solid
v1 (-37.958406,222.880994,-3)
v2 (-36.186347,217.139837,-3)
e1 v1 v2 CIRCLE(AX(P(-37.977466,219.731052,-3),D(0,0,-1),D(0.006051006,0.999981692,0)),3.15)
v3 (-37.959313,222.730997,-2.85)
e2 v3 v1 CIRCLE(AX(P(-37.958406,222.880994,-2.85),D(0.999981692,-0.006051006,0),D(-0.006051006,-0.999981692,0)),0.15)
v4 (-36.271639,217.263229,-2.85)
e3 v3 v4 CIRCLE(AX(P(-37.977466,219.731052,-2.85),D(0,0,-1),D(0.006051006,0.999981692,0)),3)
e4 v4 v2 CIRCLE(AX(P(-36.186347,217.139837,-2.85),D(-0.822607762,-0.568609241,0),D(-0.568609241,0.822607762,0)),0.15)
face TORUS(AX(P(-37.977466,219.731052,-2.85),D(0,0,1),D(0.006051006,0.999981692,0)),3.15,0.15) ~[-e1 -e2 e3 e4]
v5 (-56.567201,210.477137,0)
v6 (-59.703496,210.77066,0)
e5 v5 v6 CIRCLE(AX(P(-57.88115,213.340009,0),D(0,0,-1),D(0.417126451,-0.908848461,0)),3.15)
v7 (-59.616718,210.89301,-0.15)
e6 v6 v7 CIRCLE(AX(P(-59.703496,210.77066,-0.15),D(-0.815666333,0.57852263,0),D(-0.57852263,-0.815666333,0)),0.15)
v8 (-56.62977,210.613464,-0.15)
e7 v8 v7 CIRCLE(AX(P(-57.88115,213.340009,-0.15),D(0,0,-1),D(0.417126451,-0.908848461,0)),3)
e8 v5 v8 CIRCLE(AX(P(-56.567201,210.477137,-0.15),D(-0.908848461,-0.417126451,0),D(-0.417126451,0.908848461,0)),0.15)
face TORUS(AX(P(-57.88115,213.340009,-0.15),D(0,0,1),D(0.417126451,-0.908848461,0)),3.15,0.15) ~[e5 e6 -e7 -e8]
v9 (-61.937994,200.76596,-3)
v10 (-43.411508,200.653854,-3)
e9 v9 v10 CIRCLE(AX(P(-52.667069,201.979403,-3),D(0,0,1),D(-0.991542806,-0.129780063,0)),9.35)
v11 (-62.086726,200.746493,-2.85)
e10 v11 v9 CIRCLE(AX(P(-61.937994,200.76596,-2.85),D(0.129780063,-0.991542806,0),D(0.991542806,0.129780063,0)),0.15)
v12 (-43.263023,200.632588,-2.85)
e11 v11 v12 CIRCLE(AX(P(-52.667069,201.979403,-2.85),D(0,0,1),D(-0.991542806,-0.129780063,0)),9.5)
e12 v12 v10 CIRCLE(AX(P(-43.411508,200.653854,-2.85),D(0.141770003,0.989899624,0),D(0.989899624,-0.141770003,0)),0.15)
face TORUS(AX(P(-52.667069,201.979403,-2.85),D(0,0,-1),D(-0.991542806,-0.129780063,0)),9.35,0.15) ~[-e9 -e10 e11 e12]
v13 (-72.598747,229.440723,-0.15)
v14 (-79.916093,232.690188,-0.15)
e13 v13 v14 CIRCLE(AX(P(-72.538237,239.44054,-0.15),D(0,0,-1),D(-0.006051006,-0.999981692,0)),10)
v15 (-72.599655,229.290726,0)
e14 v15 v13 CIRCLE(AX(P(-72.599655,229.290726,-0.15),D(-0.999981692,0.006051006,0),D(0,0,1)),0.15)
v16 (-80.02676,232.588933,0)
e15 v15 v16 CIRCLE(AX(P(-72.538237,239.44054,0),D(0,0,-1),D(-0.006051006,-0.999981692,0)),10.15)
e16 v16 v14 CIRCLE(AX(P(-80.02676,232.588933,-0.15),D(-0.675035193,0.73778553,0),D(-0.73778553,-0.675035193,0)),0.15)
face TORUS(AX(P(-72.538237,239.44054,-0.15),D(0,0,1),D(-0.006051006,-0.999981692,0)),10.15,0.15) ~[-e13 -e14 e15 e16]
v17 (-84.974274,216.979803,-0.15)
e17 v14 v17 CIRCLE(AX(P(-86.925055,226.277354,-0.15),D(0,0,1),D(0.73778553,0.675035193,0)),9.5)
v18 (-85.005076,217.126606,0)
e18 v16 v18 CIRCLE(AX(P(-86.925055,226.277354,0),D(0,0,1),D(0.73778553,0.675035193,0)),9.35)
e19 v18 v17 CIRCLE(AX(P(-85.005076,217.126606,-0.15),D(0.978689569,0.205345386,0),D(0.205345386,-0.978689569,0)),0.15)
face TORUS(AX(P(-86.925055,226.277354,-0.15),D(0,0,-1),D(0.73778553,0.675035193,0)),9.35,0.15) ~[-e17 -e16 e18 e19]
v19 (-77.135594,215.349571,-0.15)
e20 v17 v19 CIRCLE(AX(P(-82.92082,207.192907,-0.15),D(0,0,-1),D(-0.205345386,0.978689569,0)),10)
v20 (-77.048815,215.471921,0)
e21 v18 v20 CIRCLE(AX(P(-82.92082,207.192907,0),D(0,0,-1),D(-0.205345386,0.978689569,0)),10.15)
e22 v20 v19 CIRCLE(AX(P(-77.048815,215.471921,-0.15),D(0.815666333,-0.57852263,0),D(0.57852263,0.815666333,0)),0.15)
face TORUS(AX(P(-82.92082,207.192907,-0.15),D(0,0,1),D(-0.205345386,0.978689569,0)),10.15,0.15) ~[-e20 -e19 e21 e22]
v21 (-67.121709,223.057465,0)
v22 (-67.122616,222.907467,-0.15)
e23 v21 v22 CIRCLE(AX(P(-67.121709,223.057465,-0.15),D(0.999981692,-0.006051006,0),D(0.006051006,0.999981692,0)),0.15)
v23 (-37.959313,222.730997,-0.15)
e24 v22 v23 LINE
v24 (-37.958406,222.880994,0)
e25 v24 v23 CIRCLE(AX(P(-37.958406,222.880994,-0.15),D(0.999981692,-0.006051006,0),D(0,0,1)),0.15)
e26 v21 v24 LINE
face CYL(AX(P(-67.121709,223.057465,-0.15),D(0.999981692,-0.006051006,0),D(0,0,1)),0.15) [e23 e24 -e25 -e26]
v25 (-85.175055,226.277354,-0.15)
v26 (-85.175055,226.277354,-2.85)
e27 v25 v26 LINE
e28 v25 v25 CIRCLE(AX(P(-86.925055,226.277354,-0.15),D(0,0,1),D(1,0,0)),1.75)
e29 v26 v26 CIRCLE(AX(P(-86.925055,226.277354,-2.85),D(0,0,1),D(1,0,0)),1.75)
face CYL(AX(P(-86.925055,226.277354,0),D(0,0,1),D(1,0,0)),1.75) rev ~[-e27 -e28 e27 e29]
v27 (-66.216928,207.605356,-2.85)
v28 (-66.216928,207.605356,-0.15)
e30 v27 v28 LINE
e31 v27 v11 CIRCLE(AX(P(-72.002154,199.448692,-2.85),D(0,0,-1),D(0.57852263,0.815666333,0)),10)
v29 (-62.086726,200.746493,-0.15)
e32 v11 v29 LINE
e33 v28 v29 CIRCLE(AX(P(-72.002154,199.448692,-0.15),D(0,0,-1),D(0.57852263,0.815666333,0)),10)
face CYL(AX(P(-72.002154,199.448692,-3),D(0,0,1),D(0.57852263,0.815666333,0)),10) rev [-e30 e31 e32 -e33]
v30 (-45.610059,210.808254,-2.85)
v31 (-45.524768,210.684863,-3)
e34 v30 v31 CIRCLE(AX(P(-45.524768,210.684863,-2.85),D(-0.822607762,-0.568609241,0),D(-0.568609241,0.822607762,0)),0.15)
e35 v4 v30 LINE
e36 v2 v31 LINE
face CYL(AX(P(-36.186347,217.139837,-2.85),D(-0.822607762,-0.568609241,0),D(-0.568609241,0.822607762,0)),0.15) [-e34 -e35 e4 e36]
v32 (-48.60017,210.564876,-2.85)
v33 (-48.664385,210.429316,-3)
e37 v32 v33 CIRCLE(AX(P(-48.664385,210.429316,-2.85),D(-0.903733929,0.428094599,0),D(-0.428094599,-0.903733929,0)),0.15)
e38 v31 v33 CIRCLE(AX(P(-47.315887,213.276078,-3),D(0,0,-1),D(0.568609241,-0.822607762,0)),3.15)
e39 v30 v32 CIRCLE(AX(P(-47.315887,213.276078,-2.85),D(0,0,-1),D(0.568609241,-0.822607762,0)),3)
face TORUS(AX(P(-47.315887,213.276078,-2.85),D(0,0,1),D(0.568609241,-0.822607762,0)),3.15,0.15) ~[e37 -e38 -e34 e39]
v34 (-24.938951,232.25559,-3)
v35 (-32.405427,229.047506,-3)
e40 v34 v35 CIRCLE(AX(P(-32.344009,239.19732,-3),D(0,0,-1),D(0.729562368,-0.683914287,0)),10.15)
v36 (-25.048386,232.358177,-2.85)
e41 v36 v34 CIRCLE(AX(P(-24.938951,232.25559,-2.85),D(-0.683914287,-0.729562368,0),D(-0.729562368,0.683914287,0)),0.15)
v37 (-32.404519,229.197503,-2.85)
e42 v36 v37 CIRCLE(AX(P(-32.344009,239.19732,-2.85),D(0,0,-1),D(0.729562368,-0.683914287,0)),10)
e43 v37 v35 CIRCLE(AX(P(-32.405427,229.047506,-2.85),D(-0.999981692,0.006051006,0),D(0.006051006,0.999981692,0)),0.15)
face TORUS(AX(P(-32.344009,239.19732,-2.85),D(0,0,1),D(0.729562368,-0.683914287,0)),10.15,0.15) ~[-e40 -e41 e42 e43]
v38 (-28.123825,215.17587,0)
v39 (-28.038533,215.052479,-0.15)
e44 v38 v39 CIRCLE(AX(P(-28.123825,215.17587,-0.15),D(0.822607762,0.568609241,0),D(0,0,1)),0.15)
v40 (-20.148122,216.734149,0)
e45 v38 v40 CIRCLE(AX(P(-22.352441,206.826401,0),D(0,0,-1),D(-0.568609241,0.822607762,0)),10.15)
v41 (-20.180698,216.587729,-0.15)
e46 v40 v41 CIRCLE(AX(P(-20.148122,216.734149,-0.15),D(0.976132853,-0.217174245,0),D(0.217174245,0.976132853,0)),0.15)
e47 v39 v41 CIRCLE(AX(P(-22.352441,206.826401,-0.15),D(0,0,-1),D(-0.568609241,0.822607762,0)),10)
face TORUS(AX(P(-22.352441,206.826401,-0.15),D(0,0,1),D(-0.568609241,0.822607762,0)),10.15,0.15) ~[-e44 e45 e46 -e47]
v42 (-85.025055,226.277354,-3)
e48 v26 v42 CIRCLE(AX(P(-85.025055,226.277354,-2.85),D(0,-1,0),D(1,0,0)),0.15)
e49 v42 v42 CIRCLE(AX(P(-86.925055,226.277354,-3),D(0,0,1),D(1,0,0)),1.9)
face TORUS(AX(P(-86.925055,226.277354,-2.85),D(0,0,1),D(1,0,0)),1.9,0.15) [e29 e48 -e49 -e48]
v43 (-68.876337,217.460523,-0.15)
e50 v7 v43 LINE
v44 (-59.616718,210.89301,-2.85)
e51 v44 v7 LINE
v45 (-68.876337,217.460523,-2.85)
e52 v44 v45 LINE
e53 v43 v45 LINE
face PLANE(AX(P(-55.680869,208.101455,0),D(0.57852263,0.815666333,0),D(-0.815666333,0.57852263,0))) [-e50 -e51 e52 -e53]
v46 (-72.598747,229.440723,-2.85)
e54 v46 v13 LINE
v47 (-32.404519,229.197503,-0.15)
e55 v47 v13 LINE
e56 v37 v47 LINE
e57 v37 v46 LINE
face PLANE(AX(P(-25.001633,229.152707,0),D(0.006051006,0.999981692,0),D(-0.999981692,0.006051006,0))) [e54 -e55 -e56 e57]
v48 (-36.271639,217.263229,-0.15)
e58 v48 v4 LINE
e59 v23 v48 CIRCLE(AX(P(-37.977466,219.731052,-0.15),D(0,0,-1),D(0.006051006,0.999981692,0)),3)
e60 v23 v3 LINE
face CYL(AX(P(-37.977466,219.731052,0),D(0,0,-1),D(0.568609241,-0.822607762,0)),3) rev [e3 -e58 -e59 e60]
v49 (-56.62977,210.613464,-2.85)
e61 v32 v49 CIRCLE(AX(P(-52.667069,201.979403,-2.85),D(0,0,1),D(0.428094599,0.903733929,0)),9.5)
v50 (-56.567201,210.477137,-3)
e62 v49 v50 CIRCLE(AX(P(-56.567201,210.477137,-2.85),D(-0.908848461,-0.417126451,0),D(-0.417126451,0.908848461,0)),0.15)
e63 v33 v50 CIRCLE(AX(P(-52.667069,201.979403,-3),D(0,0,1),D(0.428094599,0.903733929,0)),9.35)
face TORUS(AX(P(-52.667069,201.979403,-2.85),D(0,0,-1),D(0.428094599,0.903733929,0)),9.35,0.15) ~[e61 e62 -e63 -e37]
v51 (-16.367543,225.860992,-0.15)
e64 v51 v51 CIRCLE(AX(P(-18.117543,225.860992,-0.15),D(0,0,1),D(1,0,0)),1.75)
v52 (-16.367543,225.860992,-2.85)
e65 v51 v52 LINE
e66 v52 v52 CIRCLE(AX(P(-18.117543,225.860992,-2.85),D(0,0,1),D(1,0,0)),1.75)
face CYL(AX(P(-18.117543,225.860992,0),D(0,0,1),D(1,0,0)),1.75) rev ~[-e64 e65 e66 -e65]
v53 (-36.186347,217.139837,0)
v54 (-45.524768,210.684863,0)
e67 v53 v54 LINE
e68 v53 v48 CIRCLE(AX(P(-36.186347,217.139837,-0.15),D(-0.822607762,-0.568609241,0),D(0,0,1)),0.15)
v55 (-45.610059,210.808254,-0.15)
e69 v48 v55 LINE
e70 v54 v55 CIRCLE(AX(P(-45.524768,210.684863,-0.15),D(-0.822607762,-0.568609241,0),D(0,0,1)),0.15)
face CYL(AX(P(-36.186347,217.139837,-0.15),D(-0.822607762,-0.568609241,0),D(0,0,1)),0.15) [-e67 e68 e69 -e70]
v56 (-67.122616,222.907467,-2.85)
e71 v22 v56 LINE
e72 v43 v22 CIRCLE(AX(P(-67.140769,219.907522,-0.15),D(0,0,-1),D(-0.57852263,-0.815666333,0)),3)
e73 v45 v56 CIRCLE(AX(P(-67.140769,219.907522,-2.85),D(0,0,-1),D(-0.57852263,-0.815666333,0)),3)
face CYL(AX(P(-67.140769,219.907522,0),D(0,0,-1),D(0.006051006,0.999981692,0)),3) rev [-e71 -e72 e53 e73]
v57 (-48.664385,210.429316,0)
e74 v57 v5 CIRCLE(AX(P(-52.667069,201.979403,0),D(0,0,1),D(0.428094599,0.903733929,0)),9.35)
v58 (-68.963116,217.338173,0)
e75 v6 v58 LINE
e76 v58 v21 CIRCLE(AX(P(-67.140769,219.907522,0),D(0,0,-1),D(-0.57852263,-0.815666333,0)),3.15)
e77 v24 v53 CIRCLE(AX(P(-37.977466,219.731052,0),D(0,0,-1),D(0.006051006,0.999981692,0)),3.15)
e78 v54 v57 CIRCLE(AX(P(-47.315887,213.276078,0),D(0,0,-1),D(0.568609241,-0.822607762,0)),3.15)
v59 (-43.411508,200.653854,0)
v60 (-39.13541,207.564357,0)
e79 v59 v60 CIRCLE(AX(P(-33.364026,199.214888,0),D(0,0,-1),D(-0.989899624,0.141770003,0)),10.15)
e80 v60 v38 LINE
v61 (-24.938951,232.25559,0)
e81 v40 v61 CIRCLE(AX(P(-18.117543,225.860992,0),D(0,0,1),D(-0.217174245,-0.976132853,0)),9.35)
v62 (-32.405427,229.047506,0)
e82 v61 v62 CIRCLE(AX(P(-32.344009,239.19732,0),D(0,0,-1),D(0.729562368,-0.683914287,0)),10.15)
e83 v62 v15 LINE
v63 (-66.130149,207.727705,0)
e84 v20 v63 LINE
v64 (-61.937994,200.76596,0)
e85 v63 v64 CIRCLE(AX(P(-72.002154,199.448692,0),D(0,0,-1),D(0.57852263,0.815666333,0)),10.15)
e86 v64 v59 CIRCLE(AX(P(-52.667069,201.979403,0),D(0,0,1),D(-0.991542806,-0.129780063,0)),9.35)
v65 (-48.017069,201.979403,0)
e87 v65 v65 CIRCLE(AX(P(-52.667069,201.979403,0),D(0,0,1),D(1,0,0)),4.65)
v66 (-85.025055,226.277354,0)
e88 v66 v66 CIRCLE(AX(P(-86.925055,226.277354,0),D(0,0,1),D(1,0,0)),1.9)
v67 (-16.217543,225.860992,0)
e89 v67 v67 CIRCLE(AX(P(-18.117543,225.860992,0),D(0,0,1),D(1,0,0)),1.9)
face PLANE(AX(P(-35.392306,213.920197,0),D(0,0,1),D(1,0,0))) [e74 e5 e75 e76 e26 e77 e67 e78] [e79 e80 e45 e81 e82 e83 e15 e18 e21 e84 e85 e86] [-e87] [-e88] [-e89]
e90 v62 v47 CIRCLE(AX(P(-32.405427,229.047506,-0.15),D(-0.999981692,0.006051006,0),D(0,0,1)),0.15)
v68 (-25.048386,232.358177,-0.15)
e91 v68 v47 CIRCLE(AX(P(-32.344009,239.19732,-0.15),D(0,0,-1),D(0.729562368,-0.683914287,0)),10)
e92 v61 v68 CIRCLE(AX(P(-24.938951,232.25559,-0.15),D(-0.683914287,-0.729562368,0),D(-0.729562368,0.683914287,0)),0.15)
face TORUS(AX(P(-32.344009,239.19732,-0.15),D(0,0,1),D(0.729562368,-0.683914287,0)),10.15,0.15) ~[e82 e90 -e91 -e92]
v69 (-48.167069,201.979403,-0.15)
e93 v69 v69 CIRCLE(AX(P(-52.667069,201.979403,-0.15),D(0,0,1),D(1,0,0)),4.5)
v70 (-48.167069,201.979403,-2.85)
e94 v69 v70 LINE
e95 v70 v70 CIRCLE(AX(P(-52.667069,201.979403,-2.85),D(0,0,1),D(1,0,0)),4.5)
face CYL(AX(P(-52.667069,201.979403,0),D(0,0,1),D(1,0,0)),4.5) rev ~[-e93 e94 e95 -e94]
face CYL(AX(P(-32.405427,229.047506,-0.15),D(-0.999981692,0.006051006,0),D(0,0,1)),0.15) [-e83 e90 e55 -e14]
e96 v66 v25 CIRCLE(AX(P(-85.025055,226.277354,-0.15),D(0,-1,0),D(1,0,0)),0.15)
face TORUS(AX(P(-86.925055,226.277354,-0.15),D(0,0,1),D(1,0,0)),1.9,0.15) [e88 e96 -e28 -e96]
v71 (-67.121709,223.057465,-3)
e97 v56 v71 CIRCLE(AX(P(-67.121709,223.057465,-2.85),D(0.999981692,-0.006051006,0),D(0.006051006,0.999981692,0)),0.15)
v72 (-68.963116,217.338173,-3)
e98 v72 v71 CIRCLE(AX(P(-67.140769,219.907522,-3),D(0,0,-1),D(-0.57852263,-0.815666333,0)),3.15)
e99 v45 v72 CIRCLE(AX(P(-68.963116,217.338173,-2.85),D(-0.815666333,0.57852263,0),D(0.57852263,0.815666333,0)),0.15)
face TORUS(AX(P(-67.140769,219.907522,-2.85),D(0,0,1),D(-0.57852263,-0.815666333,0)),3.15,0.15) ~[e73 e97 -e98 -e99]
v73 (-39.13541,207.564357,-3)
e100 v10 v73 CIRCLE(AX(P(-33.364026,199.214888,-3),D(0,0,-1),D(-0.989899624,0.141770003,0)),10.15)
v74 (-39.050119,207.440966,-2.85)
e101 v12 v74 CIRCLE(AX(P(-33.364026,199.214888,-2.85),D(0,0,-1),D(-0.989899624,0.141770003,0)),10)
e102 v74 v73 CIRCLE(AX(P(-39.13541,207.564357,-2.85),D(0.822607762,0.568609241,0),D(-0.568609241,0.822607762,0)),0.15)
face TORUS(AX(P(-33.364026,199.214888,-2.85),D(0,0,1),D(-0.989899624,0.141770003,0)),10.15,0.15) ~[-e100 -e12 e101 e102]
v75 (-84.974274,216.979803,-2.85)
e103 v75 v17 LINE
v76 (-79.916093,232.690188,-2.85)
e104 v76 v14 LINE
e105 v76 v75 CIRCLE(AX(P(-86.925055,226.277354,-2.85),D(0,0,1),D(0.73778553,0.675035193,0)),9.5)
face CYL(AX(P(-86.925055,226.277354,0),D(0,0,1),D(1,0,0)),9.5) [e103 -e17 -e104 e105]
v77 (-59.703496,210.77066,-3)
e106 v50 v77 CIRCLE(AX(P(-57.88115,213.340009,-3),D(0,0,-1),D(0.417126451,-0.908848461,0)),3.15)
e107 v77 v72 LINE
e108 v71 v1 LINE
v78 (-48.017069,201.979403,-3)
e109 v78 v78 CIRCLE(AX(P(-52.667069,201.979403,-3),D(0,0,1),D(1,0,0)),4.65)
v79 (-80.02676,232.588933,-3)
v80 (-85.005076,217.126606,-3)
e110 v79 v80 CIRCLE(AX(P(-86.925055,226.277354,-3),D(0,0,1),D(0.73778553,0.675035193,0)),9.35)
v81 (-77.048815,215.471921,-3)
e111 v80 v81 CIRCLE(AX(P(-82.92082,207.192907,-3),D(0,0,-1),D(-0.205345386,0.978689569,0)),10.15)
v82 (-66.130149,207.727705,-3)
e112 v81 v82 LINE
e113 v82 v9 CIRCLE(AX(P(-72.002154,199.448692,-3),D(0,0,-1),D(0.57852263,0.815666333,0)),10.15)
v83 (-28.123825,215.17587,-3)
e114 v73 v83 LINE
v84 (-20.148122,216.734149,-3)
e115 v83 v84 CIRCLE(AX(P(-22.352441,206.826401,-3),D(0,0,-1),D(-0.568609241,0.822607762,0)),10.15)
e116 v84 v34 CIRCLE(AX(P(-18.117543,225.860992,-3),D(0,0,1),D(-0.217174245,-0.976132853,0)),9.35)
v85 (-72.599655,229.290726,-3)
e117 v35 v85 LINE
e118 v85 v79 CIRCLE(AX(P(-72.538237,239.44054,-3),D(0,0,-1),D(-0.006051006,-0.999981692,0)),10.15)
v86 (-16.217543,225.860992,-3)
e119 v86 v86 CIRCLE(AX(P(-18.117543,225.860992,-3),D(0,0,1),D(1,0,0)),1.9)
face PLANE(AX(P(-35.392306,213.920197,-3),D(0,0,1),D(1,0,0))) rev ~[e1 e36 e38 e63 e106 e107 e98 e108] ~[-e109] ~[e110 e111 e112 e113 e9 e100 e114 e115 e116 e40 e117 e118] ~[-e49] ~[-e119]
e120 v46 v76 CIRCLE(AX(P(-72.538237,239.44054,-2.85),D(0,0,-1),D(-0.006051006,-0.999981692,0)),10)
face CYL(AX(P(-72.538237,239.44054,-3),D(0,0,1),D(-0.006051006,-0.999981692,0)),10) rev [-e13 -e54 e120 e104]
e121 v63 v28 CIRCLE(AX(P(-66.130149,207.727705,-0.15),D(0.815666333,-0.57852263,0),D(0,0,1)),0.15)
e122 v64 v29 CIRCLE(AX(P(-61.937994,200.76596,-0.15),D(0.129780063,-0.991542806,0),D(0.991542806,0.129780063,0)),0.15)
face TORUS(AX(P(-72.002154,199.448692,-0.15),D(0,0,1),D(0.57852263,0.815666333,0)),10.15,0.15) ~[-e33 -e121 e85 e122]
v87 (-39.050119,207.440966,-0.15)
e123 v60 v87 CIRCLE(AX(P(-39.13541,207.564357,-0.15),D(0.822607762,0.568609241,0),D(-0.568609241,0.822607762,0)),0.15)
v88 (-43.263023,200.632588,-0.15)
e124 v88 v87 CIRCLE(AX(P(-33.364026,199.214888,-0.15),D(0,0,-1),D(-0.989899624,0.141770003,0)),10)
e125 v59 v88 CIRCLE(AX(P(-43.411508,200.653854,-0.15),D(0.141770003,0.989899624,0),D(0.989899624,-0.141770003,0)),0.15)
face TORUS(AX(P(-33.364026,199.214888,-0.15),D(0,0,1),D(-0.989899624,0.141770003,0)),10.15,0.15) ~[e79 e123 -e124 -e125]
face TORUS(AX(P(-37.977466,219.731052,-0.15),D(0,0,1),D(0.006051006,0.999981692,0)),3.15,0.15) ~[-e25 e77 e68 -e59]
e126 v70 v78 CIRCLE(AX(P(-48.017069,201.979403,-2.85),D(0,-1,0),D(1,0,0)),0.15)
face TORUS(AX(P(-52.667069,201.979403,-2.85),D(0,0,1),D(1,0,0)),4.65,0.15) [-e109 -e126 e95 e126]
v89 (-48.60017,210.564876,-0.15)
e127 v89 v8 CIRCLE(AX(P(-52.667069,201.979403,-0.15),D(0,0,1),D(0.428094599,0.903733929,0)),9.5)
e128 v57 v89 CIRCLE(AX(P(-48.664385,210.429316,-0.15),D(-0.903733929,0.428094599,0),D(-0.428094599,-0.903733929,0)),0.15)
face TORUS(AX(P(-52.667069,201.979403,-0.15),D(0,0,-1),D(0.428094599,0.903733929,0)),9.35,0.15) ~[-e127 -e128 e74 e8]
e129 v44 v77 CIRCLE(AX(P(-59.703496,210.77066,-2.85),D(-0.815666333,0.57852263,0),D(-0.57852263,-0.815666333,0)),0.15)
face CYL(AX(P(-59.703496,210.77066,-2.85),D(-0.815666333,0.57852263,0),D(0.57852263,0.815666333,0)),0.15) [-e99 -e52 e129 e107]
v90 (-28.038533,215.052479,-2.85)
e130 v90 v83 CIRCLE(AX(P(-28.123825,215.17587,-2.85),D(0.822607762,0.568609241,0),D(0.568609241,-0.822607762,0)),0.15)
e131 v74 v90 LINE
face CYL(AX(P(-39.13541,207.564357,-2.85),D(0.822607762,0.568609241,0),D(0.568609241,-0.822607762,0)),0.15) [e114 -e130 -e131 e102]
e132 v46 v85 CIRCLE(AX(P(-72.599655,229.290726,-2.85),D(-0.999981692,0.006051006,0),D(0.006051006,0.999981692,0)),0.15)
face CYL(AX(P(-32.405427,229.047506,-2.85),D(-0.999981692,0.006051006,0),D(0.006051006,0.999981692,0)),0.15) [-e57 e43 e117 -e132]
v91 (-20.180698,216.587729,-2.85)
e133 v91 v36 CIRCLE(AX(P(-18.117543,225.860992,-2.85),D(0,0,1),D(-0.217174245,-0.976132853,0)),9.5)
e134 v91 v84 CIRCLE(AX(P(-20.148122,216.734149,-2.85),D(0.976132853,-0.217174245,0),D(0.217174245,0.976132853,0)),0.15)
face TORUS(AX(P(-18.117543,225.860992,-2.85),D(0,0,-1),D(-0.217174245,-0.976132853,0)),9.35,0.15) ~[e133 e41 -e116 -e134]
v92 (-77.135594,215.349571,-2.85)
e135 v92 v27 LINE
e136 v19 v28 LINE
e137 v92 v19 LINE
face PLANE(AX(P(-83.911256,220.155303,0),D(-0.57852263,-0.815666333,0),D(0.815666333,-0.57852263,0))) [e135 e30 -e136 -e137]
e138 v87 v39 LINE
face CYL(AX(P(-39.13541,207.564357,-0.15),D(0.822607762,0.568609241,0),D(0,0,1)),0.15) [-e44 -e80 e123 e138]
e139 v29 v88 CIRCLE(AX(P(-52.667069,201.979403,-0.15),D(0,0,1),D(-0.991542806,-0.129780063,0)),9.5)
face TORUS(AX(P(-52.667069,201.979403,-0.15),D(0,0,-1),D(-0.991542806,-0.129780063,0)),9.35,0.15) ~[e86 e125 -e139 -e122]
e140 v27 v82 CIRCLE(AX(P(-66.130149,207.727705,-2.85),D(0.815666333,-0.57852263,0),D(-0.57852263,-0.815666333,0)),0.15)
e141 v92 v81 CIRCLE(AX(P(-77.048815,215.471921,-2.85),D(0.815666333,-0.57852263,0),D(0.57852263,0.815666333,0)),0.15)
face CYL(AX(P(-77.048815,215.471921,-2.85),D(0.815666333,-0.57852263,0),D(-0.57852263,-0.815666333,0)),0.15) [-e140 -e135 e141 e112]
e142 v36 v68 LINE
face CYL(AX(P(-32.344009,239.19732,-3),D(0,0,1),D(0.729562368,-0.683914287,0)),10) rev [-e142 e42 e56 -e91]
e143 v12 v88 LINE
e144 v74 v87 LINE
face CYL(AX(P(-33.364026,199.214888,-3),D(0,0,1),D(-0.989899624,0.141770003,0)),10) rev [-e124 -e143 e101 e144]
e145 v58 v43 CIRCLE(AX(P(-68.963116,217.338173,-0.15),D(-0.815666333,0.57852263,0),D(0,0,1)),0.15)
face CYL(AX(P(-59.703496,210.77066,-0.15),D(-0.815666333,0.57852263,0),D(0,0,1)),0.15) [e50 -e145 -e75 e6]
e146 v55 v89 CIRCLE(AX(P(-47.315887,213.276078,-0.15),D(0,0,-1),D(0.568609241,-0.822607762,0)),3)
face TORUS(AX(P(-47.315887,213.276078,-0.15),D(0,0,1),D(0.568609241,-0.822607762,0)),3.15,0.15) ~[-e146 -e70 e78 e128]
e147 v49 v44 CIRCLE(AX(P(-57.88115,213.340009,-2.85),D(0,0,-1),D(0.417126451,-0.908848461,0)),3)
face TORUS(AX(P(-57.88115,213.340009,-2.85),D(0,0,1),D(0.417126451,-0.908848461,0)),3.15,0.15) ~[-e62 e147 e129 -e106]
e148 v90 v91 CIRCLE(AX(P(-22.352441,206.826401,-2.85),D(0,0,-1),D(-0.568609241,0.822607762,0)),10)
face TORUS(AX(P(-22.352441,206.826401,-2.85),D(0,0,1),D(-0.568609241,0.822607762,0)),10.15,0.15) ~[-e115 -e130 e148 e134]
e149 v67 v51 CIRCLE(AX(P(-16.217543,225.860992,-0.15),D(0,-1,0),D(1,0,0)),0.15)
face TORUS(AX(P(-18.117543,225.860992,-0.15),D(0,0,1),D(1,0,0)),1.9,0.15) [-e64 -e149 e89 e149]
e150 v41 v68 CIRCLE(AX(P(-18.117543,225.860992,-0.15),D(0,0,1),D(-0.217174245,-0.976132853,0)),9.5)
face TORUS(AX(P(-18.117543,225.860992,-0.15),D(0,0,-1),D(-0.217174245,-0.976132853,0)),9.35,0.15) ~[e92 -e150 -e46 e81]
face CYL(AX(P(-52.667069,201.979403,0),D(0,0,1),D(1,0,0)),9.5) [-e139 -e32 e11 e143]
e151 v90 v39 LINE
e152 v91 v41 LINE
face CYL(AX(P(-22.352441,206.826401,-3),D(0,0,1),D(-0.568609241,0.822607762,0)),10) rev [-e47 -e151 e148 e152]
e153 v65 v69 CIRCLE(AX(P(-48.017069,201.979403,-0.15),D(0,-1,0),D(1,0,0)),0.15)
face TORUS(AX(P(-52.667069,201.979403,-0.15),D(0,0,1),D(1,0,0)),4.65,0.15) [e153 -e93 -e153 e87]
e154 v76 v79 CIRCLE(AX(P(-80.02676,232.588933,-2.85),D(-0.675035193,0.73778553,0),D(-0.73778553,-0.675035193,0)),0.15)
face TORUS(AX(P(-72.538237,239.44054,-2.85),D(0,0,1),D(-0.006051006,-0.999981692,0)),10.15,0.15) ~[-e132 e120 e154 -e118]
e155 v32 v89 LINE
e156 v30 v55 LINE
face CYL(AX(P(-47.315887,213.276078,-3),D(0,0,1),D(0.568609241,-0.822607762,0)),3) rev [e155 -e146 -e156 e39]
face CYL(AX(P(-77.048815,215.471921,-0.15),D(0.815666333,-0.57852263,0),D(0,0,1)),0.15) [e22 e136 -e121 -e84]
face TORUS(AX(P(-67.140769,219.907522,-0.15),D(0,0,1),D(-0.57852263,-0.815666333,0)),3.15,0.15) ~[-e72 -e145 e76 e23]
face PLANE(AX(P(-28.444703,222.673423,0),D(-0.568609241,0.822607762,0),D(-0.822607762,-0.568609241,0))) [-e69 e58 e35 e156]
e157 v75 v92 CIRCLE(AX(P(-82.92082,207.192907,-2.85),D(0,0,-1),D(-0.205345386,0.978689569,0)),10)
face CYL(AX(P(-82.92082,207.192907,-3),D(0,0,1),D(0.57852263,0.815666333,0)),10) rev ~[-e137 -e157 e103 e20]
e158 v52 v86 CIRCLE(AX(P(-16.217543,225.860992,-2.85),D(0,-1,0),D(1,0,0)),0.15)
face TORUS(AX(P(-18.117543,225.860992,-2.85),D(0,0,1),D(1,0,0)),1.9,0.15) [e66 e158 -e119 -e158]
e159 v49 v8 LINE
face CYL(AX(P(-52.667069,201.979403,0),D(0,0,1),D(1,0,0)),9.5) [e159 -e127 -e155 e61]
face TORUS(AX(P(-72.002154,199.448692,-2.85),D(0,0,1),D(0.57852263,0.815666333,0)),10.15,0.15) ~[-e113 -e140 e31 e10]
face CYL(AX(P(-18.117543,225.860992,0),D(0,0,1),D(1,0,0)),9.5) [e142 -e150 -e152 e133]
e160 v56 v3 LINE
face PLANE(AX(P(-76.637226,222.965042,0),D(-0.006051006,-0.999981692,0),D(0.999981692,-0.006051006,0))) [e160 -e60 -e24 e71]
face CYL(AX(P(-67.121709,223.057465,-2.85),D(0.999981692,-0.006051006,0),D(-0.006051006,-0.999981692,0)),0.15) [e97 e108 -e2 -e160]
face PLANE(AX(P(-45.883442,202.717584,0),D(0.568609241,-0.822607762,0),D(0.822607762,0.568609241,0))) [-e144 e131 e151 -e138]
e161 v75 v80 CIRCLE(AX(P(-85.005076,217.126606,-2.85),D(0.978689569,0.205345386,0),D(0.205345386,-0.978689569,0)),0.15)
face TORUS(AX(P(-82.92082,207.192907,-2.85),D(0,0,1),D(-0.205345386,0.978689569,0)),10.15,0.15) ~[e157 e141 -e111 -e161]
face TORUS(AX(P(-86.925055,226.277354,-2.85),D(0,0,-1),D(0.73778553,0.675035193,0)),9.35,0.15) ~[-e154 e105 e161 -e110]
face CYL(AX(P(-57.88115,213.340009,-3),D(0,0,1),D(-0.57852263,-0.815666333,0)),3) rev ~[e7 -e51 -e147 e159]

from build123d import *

# Parameters (mm, degrees)
SZKIC2_R                          = 9.5
SZKIC2_R_2                        = 1.75
DODANIE_WYCI_GNI_CIE1_DEPTH       = 3
SZKIC2_R_3                        = 4.5
DODANIE_WYCI_GNI_CIE1_2_DEPTH     = 3
DODANIE_WYCI_GNI_CIE1_3_DEPTH     = 3
WYCI_GNI_CIE_CIENKA_CIANKA1_DEPTH = 3
ZAOKR_GLENIE1_R                   = 3
ZAOKR_GLENIE2_R                   = 3
ZAOKR_GLENIE3_R                   = 3
ZAOKR_GLENIE6_R                   = 10
ZAOKR_GLENIE7_R                   = 0.15


with BuildPart() as part:
    # Szkic2 → Dodanie-wyciągnięcie1 (new body)
    with BuildSketch(Plane.XY):
        with Locations((-86.925055092, 226.277353864)):
            Circle(SZKIC2_R)
        with Locations((-86.925055092, 226.277353864)):
            Circle(SZKIC2_R_2, mode=Mode.SUBTRACT)
    extrude(amount=-DODANIE_WYCI_GNI_CIE1_DEPTH)



with BuildPart() as body_2:
    # Szkic2 → Dodanie-wyci_gni_cie1 2 (new body)
    with BuildSketch(Plane.XY):
        with Locations((-52.667069104, 201.979403415)):
            Circle(SZKIC2_R)
        with Locations((-52.667069104, 201.979403415)):
            Circle(SZKIC2_R_3, mode=Mode.SUBTRACT)
    extrude(amount=-DODANIE_WYCI_GNI_CIE1_2_DEPTH)


with BuildPart() as body_3:
    # Szkic2 → Dodanie-wyci_gni_cie1 3 (new body)
    with BuildSketch(Plane.XY):
        with Locations((-18.117543089, 225.860991555)):
            Circle(SZKIC2_R)
        with Locations((-18.117543089, 225.860991555)):
            Circle(SZKIC2_R_2, mode=Mode.SUBTRACT)
    extrude(amount=-DODANIE_WYCI_GNI_CIE1_3_DEPTH)


with BuildPart() as part_1:
    add(part.part)

    add(body_2.part)  # Wyciągnięcie-cienka ścianka1 merges body 2

    add(body_3.part)  # Wyciągnięcie-cienka ścianka1 merges body 3
    # Szkic3 → Wyciągnięcie-cienka ścianka1 (add)
    with BuildSketch(Plane.XY):
        Polygon((-45.883442496, 202.717583636), (-21.205209628, 219.775860879), (-24.901169697, 225.122811334), (-49.579402565, 208.064534091), align=None)
        Polygon((-25.00163332, 229.152707492), (-80.00163332, 229.485518929), (-80.040964861, 222.985637928), (-25.040964861, 222.65282649), align=None)
        Polygon((-83.91125564, 220.155302503), (-59.441265649, 202.799623611), (-55.680868556, 208.101454776), (-80.150858547, 225.457133668), align=None)
    extrude(amount=-WYCI_GNI_CIE_CIENKA_CIANKA1_DEPTH)

    # Zaokrąglenie1
    zaokr_glenie1_edges = [part_1.edges().sort_by_distance(p)[0] for p in [
        (-47.171806065, 209.728731394, -1.5),
        (-58.068148981, 209.794666441, -1.5),
    ]]
    fillet(zaokr_glenie1_edges, radius=ZAOKR_GLENIE1_R)

    # Zaokrąglenie2
    zaokr_glenie2_edges = [part_1.edges().sort_by_distance(p)[0] for p in [
        (-28.444703259, 222.67342291, -1.5),
    ]]
    fillet(zaokr_glenie2_edges, radius=ZAOKR_GLENIE2_R)

    # Zaokrąglenie3
    zaokr_glenie3_edges = [part_1.edges().sort_by_distance(p)[0] for p in [
        (-76.637226463, 222.965041509, -1.5),
    ]]
    fillet(zaokr_glenie3_edges, radius=ZAOKR_GLENIE3_R)

    # Zaokrąglenie6
    zaokr_glenie6_edges = [part_1.edges().sort_by_distance(p)[0] for p in [
        (-77.978767213, 229.47327833, -1.5),
        (-27.024499427, 229.164948091, -1.5),
        (-23.612806128, 218.111663576, -1.5),
        (-43.475845996, 204.381780939, -1.5),
        (-61.828546075, 204.492835276, -1.5),
        (-81.523975215, 218.462090839, -1.5),
    ]]
    fillet(zaokr_glenie6_edges, radius=ZAOKR_GLENIE6_R)

    # Zaokrąglenie7
    zaokr_glenie7_edges = [part_1.edges().sort_by_distance(p)[0] for p in [
        (-40.940848832, 214.035741403, -3),
        (-40.940848832, 214.035741403, 0),
        (-52.609584545, 211.479229493, -3),
        (-52.609584545, 211.479229493, 0),
        (-47.072508119, 210.285966007, 0),
        (-47.072508119, 210.285966007, -3),
        (-58.160696119, 210.353061931, 0),
        (-58.160696119, 210.353061931, -3),
        (-52.540964861, 222.819232209, -3),
        (-52.540964861, 222.819232209, 0),
        (-35.110909303, 220.615839894, -3),
        (-35.110909303, 220.615839894, 0),
        (-64.24652739, 214.176766792, 0),
        (-64.24652739, 214.176766792, -3),
        (-69.99640902, 220.826936136, 0),
        (-69.99640902, 220.826936136, -3),
        (-52.50163332, 229.31911321, -3),
        (-52.50163332, 229.31911321, 0),
        (-95.967914312, 229.188830659, 0),
        (-95.967914312, 229.188830659, -3),
        (-9.040111988, 228.662820353, -3),
        (-9.040111988, 228.662820353, 0),
        (-33.544326062, 211.246722258, -3),
        (-33.544326062, 211.246722258, 0),
        (-52.724553664, 192.479577336, -3),
        (-52.724553664, 192.479577336, 0),
        (-71.676260645, 211.477463057, 0),
        (-71.676260645, 211.477463057, -3),
        (-76.596817735, 230.301178851, 0),
        (-76.596817735, 230.301178851, -3),
        (-28.396328627, 230.00951205, 0),
        (-28.396328627, 230.00951205, -3),
        (-24.269968637, 216.640833515, 0),
        (-24.269968637, 216.640833515, -3),
        (-41.867687317, 204.47680355, 0),
        (-41.867687317, 204.47680355, -3),
        (-63.435437046, 204.607312528, 0),
        (-63.435437046, 204.607312528, -3),
        (-80.884660507, 216.983415642, -3),
        (-80.884660507, 216.983415642, 0),
        (-19.867543089, 225.860991555, -3),
        (-19.867543089, 225.860991555, 0),
        (-88.675055092, 226.277353864, -3),
        (-88.675055092, 226.277353864, 0),
        (-57.167069104, 201.979403415, -3),
        (-57.167069104, 201.979403415, 0),
    ]]
    fillet(zaokr_glenie7_edges, radius=ZAOKR_GLENIE7_R)


solid = part_1.part
